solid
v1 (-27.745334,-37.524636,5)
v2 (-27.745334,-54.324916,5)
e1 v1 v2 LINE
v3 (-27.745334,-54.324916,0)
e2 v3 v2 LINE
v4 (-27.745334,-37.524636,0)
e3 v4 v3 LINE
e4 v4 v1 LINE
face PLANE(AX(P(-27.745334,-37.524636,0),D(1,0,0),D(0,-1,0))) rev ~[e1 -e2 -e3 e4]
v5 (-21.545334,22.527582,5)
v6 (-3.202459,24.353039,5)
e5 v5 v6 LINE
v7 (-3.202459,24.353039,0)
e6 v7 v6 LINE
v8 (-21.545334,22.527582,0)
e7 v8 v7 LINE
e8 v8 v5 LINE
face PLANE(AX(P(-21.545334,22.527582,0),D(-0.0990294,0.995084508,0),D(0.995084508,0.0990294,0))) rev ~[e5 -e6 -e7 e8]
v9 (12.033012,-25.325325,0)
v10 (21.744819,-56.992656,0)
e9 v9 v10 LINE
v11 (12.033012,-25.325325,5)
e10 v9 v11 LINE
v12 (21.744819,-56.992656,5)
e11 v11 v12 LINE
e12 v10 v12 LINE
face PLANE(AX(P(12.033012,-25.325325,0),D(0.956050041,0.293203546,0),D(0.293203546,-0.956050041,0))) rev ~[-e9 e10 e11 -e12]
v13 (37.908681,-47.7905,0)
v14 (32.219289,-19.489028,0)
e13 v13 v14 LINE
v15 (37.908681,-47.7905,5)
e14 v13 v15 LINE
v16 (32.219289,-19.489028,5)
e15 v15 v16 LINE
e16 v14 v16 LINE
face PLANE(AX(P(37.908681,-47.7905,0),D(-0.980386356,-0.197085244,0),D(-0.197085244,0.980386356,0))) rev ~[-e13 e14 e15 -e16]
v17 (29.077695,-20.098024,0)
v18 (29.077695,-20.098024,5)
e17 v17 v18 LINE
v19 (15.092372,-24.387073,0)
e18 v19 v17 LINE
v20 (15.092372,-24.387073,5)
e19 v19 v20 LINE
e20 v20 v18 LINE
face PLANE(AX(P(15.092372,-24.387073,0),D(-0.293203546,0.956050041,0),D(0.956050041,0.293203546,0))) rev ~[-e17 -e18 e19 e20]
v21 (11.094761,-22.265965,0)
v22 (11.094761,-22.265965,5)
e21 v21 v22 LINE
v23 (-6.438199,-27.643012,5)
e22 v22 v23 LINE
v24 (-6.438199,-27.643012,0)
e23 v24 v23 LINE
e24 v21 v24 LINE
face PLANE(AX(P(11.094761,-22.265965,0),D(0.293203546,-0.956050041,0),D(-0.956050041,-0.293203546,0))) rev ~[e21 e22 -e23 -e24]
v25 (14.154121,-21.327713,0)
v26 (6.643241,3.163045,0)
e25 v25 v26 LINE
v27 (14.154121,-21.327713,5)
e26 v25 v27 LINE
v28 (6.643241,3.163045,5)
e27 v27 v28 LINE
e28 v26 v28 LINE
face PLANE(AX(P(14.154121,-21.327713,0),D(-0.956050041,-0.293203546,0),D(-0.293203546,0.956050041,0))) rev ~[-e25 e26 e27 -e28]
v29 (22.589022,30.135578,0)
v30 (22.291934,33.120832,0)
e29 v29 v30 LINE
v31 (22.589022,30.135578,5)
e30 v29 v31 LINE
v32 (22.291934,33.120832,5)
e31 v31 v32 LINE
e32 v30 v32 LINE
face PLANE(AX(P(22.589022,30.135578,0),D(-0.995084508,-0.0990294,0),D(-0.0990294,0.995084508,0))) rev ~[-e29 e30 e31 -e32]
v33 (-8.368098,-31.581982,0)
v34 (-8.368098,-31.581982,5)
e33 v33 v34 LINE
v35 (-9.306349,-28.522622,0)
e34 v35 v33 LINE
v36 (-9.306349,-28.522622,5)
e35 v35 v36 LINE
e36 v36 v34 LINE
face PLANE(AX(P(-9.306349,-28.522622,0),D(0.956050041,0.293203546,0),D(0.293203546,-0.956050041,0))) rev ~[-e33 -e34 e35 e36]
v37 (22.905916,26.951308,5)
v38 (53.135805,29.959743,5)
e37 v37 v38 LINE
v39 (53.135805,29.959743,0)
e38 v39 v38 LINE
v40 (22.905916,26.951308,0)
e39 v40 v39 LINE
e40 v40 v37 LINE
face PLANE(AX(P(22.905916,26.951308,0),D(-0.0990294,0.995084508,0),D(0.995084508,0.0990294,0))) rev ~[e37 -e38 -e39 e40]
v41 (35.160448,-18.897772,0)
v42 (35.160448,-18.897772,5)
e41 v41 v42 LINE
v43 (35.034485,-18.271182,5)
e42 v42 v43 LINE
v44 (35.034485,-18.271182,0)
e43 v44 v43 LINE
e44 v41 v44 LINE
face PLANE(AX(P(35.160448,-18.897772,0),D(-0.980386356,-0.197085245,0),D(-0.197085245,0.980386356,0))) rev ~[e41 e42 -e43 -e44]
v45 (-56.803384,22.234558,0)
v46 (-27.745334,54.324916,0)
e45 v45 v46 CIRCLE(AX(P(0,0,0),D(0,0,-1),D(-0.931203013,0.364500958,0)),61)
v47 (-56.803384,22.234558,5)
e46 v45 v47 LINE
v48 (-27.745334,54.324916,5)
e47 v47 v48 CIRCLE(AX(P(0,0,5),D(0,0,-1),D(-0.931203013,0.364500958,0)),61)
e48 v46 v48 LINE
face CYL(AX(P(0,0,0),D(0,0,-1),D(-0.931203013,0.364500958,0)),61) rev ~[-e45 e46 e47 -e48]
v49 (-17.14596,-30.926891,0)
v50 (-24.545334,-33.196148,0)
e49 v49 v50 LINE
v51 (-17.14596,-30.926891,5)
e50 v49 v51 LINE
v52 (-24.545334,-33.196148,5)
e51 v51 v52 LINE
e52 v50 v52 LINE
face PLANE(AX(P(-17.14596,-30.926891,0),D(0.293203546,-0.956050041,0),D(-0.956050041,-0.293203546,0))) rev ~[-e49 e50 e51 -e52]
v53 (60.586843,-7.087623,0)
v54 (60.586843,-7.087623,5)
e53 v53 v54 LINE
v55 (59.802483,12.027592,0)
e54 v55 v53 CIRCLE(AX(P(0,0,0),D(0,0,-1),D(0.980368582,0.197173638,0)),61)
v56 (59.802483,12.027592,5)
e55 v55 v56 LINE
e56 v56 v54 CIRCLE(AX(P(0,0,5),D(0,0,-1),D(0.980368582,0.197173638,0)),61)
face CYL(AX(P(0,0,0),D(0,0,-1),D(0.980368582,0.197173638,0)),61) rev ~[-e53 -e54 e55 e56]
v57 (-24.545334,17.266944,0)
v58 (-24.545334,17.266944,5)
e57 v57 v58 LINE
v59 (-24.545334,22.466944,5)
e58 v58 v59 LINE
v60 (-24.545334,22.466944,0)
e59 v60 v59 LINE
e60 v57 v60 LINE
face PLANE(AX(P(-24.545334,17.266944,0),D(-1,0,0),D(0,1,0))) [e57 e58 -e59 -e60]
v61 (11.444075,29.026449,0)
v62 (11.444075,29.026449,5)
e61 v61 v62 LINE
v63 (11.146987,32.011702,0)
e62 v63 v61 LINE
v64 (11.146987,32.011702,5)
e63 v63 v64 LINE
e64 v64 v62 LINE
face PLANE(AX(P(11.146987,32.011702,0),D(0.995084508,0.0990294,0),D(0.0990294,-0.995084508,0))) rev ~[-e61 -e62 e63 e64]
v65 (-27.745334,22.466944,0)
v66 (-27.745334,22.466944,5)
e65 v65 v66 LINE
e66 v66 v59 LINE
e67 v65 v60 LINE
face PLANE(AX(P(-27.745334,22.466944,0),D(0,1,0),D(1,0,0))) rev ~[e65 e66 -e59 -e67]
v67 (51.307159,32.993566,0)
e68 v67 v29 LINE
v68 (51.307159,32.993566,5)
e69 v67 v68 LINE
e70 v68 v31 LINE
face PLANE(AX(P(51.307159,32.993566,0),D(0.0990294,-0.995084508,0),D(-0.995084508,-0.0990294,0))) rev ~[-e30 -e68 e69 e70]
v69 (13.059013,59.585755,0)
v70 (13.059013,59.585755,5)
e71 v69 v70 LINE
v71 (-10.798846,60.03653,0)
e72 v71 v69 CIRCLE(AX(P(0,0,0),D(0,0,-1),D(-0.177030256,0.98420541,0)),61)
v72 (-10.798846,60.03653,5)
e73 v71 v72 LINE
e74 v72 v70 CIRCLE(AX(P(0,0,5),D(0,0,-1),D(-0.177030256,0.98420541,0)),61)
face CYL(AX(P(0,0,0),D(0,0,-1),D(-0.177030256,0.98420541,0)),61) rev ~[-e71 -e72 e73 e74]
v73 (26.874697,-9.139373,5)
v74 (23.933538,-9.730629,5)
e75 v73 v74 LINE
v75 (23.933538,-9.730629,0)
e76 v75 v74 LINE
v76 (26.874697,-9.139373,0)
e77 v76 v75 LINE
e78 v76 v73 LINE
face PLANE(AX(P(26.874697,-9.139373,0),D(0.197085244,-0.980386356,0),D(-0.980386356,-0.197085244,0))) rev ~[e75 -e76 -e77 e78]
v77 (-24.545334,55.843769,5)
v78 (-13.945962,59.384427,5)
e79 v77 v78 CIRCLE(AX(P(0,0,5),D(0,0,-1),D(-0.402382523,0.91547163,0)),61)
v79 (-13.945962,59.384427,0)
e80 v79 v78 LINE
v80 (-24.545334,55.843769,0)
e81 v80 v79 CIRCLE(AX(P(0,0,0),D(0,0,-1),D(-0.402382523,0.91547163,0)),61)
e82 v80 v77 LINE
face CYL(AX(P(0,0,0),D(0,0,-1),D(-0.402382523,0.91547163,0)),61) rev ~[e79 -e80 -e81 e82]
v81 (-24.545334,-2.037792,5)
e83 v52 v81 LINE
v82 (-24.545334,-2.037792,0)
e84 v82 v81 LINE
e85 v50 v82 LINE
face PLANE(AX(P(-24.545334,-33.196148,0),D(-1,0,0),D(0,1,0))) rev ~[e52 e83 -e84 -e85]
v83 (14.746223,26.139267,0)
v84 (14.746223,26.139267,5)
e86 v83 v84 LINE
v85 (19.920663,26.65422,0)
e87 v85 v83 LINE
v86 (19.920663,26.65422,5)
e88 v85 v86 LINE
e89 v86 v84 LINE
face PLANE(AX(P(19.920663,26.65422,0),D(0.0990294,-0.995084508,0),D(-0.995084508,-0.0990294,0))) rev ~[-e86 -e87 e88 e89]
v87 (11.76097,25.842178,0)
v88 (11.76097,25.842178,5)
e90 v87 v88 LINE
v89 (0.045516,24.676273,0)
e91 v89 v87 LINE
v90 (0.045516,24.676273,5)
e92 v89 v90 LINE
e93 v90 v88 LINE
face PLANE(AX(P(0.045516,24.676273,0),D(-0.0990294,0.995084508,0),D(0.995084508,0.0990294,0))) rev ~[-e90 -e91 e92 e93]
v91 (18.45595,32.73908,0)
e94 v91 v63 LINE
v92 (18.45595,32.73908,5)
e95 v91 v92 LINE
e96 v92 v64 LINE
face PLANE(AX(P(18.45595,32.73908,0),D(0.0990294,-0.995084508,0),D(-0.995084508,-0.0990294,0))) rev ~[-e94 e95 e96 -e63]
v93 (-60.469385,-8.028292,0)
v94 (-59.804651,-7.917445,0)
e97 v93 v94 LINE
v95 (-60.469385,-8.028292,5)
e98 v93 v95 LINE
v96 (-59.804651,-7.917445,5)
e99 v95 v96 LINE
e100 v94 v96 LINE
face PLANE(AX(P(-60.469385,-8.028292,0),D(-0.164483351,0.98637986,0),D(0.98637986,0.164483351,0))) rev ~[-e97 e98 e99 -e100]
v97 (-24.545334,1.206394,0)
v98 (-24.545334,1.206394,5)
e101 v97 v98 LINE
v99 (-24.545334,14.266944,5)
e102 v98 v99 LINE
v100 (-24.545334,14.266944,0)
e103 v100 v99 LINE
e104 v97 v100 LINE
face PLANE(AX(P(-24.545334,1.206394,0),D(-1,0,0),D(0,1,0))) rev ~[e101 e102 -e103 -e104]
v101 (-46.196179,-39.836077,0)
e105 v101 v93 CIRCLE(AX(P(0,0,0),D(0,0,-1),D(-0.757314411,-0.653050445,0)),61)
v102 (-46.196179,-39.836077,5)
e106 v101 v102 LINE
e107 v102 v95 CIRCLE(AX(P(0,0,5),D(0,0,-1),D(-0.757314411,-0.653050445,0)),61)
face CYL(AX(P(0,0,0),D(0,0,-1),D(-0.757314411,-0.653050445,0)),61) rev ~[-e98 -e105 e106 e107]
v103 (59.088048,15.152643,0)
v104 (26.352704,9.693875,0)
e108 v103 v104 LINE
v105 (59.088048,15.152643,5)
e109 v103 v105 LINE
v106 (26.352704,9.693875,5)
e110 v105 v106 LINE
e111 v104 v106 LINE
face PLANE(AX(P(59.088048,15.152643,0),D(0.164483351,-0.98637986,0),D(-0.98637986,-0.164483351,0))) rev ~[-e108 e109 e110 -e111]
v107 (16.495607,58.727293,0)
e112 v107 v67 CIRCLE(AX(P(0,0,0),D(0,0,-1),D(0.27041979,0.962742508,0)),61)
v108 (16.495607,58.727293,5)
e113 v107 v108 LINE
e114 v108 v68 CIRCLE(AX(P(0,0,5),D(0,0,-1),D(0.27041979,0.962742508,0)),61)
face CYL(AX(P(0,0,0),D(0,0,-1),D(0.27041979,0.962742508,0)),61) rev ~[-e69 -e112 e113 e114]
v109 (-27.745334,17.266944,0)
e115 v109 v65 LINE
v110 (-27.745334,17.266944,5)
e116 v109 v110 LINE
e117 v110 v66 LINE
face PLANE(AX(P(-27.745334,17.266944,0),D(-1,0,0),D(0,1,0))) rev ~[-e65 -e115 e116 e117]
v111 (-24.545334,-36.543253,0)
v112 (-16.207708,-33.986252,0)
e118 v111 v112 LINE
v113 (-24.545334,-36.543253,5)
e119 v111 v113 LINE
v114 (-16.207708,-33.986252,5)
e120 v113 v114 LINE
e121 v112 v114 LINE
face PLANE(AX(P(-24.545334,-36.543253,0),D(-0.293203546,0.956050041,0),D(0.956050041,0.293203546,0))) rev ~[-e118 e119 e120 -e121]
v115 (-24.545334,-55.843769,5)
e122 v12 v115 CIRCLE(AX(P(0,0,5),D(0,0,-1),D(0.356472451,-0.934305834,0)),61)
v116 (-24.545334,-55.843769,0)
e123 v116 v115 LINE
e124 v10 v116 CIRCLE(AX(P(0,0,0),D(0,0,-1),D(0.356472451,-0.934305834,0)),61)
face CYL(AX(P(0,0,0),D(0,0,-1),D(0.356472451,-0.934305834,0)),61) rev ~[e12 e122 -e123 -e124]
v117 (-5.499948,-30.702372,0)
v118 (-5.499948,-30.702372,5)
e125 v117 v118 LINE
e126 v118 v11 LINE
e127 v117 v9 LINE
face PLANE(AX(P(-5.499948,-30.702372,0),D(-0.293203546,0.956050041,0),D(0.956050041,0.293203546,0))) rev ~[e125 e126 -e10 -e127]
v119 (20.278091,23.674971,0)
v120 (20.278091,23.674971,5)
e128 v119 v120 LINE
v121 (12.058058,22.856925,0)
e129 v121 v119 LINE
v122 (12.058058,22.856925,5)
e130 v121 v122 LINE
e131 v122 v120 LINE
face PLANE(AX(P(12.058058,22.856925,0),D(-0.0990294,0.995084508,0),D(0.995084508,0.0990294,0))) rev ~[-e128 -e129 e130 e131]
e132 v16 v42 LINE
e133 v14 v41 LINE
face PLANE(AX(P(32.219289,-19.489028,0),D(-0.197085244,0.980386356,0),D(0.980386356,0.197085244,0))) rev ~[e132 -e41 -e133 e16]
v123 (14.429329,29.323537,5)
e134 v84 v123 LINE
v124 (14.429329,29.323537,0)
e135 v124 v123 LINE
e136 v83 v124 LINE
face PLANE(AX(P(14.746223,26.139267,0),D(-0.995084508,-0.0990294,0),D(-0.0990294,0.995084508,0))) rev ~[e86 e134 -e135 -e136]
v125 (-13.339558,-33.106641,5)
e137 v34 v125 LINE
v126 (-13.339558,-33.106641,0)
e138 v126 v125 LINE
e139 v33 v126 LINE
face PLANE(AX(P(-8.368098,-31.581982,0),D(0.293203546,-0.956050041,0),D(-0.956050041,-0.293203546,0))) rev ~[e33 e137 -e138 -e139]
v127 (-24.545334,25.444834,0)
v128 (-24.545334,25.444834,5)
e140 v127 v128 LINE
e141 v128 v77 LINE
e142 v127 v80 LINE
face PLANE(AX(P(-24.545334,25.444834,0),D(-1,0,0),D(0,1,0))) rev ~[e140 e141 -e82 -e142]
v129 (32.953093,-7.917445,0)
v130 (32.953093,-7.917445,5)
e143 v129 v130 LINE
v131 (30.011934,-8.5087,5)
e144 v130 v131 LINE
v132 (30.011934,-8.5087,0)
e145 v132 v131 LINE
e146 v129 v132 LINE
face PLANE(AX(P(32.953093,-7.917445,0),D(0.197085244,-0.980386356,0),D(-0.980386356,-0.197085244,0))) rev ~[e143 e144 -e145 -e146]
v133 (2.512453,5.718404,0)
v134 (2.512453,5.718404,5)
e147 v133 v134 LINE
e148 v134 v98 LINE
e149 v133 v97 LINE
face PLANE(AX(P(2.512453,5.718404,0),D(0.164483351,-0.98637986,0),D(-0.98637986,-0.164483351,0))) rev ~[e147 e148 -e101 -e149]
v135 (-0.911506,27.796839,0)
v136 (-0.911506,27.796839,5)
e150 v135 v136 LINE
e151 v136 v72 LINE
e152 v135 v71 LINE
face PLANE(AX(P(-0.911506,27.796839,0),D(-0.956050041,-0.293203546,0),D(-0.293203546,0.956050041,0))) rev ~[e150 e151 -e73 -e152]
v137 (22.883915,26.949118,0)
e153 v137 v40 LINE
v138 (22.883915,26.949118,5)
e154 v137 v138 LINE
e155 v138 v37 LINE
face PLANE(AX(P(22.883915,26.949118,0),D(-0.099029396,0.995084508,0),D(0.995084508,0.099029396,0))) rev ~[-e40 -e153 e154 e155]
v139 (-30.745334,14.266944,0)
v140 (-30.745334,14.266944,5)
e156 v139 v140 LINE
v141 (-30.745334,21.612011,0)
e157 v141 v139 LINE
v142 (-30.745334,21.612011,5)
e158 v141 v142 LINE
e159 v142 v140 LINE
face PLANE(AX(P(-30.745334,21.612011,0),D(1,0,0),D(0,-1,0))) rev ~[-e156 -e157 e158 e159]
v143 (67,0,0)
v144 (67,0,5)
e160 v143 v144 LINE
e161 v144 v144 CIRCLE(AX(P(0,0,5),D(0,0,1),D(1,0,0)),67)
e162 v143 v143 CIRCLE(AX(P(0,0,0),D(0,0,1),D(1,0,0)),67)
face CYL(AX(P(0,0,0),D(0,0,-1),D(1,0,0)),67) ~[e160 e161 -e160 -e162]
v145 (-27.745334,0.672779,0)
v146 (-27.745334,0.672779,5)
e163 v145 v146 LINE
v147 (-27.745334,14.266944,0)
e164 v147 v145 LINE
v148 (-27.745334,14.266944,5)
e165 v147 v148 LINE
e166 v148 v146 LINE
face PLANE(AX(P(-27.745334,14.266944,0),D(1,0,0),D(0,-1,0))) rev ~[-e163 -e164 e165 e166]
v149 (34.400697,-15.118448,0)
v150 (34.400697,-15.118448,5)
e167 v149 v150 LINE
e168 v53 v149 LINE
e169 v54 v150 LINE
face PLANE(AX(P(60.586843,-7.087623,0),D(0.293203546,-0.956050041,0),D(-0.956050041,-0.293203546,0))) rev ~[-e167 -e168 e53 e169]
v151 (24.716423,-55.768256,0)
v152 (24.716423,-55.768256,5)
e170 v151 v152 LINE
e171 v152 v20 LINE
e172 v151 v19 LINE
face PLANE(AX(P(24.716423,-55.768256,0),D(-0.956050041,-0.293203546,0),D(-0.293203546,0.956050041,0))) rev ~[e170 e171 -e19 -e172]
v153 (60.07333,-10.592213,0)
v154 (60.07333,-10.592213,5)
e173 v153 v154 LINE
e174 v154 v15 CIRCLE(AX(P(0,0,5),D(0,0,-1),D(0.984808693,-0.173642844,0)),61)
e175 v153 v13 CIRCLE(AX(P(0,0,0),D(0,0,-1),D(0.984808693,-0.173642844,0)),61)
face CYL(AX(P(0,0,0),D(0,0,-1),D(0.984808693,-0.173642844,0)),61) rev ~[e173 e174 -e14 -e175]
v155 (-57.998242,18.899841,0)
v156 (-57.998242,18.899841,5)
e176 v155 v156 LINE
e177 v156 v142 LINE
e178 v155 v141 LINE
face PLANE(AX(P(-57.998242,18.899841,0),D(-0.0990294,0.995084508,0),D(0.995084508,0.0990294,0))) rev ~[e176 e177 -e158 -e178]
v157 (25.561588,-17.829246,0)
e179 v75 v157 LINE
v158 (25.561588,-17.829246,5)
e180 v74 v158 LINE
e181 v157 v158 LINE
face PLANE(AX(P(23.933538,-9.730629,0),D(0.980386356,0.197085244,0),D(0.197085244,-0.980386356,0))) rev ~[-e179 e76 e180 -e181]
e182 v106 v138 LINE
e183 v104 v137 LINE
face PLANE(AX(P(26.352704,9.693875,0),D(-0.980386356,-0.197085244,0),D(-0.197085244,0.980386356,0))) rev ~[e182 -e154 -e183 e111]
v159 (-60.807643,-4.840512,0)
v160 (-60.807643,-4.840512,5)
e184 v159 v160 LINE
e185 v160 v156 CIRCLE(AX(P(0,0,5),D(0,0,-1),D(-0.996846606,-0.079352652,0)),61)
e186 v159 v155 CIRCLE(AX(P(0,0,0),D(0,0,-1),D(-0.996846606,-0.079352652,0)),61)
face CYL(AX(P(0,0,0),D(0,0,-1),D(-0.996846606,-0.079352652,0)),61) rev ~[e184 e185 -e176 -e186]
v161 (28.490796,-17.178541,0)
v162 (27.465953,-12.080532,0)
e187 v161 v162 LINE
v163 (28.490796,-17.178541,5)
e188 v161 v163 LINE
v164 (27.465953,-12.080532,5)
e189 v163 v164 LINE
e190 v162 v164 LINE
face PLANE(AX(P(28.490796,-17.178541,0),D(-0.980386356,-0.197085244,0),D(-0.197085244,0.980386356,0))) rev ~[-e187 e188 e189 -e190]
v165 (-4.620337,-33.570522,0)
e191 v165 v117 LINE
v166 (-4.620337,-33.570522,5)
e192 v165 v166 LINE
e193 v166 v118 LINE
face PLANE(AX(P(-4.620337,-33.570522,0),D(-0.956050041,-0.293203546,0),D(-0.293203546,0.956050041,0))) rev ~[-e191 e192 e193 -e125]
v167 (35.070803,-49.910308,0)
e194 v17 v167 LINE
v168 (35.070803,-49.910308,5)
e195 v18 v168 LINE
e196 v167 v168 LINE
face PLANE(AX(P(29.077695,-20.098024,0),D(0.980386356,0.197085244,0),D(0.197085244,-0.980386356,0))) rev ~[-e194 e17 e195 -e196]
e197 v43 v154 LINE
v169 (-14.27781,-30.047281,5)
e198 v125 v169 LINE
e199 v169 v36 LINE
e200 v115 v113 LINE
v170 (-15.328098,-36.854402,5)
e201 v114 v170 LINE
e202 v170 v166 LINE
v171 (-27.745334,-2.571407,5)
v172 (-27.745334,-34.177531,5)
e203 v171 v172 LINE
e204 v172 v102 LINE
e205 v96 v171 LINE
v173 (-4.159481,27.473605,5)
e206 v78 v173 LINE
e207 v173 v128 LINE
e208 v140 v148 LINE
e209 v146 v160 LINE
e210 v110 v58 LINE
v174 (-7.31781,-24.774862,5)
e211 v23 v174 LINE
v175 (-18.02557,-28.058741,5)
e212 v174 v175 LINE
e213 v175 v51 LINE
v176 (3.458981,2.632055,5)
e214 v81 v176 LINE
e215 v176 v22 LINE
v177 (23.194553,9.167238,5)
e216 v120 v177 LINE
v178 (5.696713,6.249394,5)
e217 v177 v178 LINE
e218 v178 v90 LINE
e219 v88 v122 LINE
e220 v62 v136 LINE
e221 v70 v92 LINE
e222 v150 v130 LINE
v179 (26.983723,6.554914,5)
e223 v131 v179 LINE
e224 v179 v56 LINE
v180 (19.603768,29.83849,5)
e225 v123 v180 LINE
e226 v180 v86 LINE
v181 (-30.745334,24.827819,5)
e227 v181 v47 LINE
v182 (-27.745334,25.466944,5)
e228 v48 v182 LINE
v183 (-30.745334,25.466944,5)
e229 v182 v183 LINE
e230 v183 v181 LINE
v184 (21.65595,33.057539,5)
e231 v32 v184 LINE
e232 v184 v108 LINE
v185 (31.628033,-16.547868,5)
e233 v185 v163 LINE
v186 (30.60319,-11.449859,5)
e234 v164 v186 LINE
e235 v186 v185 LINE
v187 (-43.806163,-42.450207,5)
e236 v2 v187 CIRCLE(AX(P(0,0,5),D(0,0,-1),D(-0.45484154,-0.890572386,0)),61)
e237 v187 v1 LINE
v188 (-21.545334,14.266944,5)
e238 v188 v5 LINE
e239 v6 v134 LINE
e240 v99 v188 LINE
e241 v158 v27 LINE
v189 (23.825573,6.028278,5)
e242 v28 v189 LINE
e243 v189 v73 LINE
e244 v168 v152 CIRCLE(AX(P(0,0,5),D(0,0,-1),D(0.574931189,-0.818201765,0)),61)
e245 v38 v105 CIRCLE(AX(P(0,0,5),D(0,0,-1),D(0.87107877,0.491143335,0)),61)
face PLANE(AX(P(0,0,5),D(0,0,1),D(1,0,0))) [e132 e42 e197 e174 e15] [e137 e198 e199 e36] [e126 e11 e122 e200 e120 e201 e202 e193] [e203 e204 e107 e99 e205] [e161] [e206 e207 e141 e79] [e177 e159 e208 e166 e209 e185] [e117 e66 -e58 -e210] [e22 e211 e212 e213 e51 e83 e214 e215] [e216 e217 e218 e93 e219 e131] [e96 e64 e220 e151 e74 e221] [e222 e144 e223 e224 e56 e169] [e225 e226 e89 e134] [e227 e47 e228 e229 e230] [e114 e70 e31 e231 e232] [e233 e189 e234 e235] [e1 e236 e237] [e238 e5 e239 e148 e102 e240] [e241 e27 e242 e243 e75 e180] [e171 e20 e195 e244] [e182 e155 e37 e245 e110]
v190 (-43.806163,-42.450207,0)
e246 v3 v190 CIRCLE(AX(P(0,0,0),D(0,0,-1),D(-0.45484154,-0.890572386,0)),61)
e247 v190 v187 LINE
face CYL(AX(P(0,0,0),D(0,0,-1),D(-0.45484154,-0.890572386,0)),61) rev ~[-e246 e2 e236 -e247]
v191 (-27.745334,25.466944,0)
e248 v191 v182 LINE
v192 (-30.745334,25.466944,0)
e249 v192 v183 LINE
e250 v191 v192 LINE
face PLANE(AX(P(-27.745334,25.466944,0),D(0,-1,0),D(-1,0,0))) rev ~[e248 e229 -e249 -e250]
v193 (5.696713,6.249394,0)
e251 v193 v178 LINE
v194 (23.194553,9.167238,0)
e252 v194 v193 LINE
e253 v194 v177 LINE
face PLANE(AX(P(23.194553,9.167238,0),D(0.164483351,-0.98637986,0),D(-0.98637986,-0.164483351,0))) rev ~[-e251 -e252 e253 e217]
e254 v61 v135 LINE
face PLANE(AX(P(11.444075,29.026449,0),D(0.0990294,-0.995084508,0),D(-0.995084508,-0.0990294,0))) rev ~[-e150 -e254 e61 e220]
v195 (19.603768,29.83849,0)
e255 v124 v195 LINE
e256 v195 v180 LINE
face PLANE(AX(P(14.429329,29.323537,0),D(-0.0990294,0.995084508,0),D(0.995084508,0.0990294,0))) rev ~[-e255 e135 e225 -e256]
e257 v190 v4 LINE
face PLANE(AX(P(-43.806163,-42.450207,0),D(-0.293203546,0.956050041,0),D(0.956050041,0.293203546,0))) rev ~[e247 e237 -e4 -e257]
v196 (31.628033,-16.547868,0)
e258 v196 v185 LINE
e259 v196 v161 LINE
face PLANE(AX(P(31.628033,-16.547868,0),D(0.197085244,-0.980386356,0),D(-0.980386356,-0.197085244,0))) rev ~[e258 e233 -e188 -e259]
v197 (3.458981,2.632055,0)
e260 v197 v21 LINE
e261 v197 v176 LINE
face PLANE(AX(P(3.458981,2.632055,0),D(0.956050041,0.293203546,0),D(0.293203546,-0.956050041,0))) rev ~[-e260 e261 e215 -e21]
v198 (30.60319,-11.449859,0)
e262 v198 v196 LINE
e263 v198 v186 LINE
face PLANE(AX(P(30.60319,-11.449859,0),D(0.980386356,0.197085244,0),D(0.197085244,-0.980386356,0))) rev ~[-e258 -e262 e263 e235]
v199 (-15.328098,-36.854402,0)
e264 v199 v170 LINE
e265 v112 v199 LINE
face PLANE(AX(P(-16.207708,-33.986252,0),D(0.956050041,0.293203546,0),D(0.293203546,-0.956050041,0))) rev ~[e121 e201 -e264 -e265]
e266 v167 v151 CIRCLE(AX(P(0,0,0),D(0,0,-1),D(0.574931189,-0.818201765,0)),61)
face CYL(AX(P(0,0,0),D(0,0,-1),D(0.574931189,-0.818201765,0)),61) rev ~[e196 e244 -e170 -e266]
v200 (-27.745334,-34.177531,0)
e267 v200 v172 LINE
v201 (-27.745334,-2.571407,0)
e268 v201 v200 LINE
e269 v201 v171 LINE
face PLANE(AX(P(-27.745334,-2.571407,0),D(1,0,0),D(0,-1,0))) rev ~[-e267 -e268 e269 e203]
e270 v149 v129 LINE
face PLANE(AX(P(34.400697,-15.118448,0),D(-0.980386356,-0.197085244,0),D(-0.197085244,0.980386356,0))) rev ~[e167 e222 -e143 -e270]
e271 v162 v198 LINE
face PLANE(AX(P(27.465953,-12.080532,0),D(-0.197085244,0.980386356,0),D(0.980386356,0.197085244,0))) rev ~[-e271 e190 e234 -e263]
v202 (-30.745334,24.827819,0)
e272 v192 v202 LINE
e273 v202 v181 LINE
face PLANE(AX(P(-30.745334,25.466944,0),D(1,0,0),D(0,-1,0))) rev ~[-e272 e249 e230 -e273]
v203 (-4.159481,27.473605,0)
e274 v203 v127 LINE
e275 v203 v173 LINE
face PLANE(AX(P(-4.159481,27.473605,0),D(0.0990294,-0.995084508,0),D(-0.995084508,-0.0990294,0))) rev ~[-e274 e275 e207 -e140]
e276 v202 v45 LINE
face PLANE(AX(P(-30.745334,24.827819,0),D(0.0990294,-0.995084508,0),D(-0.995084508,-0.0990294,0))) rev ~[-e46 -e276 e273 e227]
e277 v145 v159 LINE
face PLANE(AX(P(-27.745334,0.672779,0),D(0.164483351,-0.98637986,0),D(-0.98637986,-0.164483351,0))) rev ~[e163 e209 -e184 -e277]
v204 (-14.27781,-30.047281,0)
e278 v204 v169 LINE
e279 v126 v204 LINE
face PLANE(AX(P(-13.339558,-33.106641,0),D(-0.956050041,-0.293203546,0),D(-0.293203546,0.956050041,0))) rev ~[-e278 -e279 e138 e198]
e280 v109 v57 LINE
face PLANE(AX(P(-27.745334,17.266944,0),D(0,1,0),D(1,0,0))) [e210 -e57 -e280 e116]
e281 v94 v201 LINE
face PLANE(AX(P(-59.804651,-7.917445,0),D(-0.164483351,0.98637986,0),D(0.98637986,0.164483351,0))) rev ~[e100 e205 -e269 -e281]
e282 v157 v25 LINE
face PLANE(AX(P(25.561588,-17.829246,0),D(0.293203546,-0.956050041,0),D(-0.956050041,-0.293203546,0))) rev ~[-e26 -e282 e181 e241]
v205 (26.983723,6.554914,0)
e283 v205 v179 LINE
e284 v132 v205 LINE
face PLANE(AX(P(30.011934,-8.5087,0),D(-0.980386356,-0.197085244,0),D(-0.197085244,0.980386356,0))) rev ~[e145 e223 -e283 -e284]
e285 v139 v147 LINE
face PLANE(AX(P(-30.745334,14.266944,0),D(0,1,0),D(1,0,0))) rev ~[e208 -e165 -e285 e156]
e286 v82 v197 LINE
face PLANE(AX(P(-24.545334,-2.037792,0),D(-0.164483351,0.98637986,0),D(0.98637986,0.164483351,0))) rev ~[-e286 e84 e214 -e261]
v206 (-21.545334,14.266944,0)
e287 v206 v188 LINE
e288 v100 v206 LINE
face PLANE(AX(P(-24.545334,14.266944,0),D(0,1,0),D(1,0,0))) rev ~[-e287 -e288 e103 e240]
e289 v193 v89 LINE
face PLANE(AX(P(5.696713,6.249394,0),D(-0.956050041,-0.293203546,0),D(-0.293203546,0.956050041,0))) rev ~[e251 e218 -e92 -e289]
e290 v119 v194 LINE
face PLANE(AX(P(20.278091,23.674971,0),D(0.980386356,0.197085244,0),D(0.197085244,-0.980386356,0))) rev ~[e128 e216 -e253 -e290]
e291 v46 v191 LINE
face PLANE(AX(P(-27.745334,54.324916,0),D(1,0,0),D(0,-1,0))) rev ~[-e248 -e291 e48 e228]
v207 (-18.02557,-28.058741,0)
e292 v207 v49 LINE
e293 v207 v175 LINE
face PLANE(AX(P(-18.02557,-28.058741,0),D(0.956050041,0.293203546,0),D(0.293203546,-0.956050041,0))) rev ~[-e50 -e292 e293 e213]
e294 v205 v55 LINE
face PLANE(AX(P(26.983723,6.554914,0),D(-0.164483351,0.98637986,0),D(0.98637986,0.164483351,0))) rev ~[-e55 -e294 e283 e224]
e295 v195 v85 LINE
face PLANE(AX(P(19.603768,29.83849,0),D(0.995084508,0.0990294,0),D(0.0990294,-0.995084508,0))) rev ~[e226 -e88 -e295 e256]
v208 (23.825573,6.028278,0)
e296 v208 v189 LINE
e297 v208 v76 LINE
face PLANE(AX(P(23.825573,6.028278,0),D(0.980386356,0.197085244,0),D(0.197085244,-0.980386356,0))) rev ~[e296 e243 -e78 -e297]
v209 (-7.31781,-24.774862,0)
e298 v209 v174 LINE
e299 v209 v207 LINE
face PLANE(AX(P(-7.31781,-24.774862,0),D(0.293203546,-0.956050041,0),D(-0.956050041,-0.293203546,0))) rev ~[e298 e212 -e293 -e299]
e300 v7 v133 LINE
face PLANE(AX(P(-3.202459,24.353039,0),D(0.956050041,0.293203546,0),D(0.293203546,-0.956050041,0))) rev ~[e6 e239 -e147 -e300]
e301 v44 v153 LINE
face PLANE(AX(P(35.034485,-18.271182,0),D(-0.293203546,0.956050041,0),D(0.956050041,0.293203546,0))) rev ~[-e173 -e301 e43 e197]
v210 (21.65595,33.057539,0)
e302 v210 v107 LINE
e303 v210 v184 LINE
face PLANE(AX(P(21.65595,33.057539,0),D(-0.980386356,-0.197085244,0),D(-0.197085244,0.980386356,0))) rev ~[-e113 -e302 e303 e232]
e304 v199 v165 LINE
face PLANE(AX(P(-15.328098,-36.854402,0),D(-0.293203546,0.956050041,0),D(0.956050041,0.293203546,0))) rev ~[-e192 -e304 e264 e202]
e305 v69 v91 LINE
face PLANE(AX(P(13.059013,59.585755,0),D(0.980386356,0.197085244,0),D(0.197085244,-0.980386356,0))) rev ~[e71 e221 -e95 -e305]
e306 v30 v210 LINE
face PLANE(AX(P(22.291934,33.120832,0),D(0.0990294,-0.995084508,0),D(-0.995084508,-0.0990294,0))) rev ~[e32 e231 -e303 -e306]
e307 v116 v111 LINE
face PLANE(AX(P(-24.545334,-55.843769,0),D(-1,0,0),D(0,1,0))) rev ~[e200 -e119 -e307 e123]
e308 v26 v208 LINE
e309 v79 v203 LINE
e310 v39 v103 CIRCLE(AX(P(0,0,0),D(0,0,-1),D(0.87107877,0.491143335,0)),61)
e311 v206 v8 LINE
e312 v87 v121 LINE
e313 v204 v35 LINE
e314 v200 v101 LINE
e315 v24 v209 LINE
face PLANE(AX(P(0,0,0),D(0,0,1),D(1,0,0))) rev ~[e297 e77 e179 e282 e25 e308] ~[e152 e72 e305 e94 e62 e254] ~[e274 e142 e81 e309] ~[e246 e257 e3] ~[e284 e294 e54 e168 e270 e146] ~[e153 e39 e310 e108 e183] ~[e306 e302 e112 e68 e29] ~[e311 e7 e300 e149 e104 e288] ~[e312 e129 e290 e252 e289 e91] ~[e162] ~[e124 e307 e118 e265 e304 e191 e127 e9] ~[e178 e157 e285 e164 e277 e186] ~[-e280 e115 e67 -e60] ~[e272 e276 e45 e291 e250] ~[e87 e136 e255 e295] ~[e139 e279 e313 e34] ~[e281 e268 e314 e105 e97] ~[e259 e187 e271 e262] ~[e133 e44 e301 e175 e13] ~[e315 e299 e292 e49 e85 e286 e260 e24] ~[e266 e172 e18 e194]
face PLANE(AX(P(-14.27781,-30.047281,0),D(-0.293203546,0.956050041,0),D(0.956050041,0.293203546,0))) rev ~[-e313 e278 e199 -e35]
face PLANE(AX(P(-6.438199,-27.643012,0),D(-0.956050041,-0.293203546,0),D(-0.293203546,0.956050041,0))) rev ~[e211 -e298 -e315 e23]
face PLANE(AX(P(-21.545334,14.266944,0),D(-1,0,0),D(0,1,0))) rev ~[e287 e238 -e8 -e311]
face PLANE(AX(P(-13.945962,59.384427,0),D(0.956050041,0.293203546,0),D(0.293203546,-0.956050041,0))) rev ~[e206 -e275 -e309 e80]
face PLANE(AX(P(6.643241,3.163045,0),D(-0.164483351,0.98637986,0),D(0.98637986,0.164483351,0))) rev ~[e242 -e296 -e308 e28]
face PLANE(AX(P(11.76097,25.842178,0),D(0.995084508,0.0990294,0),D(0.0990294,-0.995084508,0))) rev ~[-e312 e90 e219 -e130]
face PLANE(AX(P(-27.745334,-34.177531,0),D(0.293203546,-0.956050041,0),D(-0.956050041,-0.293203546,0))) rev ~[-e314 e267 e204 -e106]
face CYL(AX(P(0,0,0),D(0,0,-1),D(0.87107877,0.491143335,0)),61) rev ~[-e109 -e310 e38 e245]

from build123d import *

# Parameters (mm, degrees)
F0_R     = 67
F0_W     = 3.2
F0_H     = 5.2
F1_DEPTH = 5


with BuildPart() as f1:
    # F0 (on Top) → F1 (new body)
    with BuildSketch(Plane.XY):
        Circle(F0_R)
        with BuildLine():
            Line((-43.8061632072, -42.4502068907), (-27.7453339126, -37.5246361488))
            Line((-27.7453339126, -37.5246361488), (-27.7453339126, -54.3249155184))
            ThreePointArc((-27.7453339126, -54.3249155184), (-36.2650846031, -49.0493999834), (-43.8061632072, -42.4502068907))
        make_face(mode=Mode.SUBTRACT)
        with BuildLine():
            Line((-24.5453339126, -36.543253053), (-16.2077082994, -33.9862515417))
            Line((-16.2077082994, -33.9862515417), (-15.32809766, -36.8544016639))
            Line((-15.32809766, -36.8544016639), (-4.620337204, -33.5705219434))
            Line((-4.620337204, -33.5705219434), (-5.4999478434, -30.7023718213))
            Line((-5.4999478434, -30.7023718213), (12.0330121636, -25.3253247681))
            Line((12.0330121636, -25.3253247681), (21.7448194921, -56.9926558888))
            ThreePointArc((21.7448194921, -56.9926558888), (-1.5135076095, -60.9812208365), (-24.5453339126, -55.8437694208))
            Line((-24.5453339126, -55.8437694208), (-24.5453339126, -36.543253053))
        make_face(mode=Mode.SUBTRACT)
        with BuildLine():
            Line((-27.7453339126, -2.5714068584), (-27.7453339126, -34.1775310144))
            Line((-27.7453339126, -34.1775310144), (-46.1961790611, -39.8360771181))
            ThreePointArc((-46.1961790611, -39.8360771181), (-55.6535662863, -24.9735972503), (-60.469385046, -8.0282919824))
            Line((-60.469385046, -8.0282919824), (-59.8046514096, -7.9174446097))
            Line((-59.8046514096, -7.9174446097), (-27.7453339126, -2.5714068584))
        make_face(mode=Mode.SUBTRACT)
        Polygon((-13.3395581772, -33.1066409023), (-14.2778095259, -30.0472807721), (-9.3063493142, -28.5226223304), (-8.3680979656, -31.5819824607), align=None, mode=Mode.SUBTRACT)
        Polygon((-18.0255702875, -28.0587412893), (-17.1459596481, -30.9268914115), (-24.5453339126, -33.1961479186), (-24.5453339126, -2.0377922297), (3.4589808569, 2.6320552794), (11.0947608149, -22.2659646378), (-6.4381991921, -27.643011691), (-7.3178098315, -24.7748615689), align=None, mode=Mode.SUBTRACT)
        with BuildLine():
            Line((15.0923722939, -24.3870734194), (29.0776945802, -20.098023769))
            Line((29.0776945802, -20.098023769), (35.0708025243, -49.9103076559))
            ThreePointArc((35.0708025243, -49.9103076559), (30.0367604433, -53.0923066185), (24.7164230966, -55.7682564665))
            Line((24.7164230966, -55.7682564665), (15.0923722939, -24.3870734194))
        make_face(mode=Mode.SUBTRACT)
        with BuildLine():
            Line((37.9086808974, -47.790500234), (32.2192885129, -19.4890275267))
            Line((32.2192885129, -19.4890275267), (35.16044758, -18.8977717934))
            Line((35.16044758, -18.8977717934), (35.0344853908, -18.2711819544))
            Line((35.0344853908, -18.2711819544), (60.0733303031, -10.5922134746))
            ThreePointArc((60.0733303031, -10.5922134746), (52.402736228, -31.2242411568), (37.9086808974, -47.790500234))
        make_face(mode=Mode.SUBTRACT)
        Polygon((31.6280327797, -16.5478684596), (28.4907964414, -17.1785412418), (27.4659531704, -12.0805321921), (30.6031895087, -11.44985941), align=None, mode=Mode.SUBTRACT)
        Polygon((23.8255728418, 6.0282775984), (26.8746974372, -9.1393731251), (23.9335383701, -9.7306288583), (25.5615882832, -17.8292459105), (14.1541209452, -21.3277132891), (6.6432408292, 3.1630451865), align=None, mode=Mode.SUBTRACT)
        with BuildLine():
            Line((60.5868434596, -7.0876229867), (34.400697228, -15.1184483792))
            Line((34.400697228, -15.1184483792), (32.9530928425, -7.9174446097))
            Line((32.9530928425, -7.9174446097), (30.0119337754, -8.5087003429))
            Line((30.0119337754, -8.5087003429), (26.9837234891, 6.5549136562))
            Line((26.9837234891, 6.5549136562), (59.802483499, 12.0275919182))
            ThreePointArc((59.802483499, 12.0275919182), (60.9487109921, 2.5009255083), (60.5868434596, -7.0876229867))
        make_face(mode=Mode.SUBTRACT)
        with BuildLine():
            Line((-30.7453339126, 14.2669440508), (-27.7453339126, 14.2669440508))
            Line((-27.7453339126, 14.2669440508), (-27.7453339126, 0.6727794143))
            Line((-27.7453339126, 0.6727794143), (-60.8076429886, -4.8405117679))
            ThreePointArc((-60.8076429886, -4.8405117679), (-60.5773112158, 7.1686376578), (-57.9982415713, 18.899840598))
            Line((-57.9982415713, 18.899840598), (-30.7453339126, 21.6120113579))
            Line((-30.7453339126, 21.6120113579), (-30.7453339126, 14.2669440508))
        make_face(mode=Mode.SUBTRACT)
        Polygon((-24.5453339126, 1.206394043), (-24.5453339126, 14.2669440508), (-21.5453339126, 14.2669440508), (-21.5453339126, 22.5275823238), (-3.2024586813, 24.3530392797), (2.5124526937, 5.7184036538), align=None, mode=Mode.SUBTRACT)
        Polygon((0.0455163714, 24.6762731554), (11.7609695409, 25.842178457), (12.0580577422, 22.8569249334), (20.278090913, 23.6749709889), (23.1945533758, 9.1672384904), (5.6967126659, 6.249393561), align=None, mode=Mode.SUBTRACT)
        with Locations((-26.1453339126, 19.8669440508)):
            Rectangle(F0_W, F0_H, mode=Mode.SUBTRACT)
        with BuildLine():
            Line((-27.7453339126, 54.3249155184), (-27.7453339126, 25.4669440508))
            Line((-27.7453339126, 25.4669440508), (-30.7453339126, 25.4669440508))
            Line((-30.7453339126, 25.4669440508), (-30.7453339126, 24.8278186332))
            Line((-30.7453339126, 24.8278186332), (-56.8033838043, 22.2345584255))
            ThreePointArc((-56.8033838043, 22.2345584255), (-45.2169124497, 40.9442404804), (-27.7453339126, 54.3249155184))
        make_face(mode=Mode.SUBTRACT)
        with BuildLine():
            Line((-4.1594807198, 27.4736050776), (-24.5453339126, 25.4448338493))
            Line((-24.5453339126, 25.4448338493), (-24.5453339126, 55.8437694208))
            ThreePointArc((-24.5453339126, 55.8437694208), (-19.3268992288, 57.8573328646), (-13.9459622608, 59.384426718))
            Line((-13.9459622608, 59.384426718), (-4.1594807198, 27.4736050776))
        make_face(mode=Mode.SUBTRACT)
        with BuildLine():
            Line((11.1469872581, 32.011702406), (11.4440754595, 29.0264488823))
            Line((11.4440754595, 29.0264488823), (-0.9115056672, 27.7968389533))
            Line((-0.9115056672, 27.7968389533), (-10.7988456048, 60.036529993))
            ThreePointArc((-10.7988456048, 60.036529993), (1.1523404732, 60.9891146963), (13.0590128663, 59.5857548661))
            Line((13.0590128663, 59.5857548661), (18.4559499448, 32.7390800176))
            Line((18.4559499448, 32.7390800176), (11.1469872581, 32.011702406))
        make_face(mode=Mode.SUBTRACT)
        Polygon((19.6037684242, 29.838489966), (19.9206625056, 26.6542195407), (14.7462230646, 26.1392666584), (14.4293289831, 29.3235370836), align=None, mode=Mode.SUBTRACT)
        with BuildLine():
            Line((22.8839145104, 26.9491181821), (22.9059160293, 26.951307742))
            Line((22.9059160293, 26.951307742), (53.1358049871, 29.9597434631))
            ThreePointArc((53.1358049871, 29.9597434631), (56.5982407155, 22.7516845071), (59.0880479964, 15.1526428049))
            Line((59.0880479964, 15.1526428049), (26.3527040231, 9.6938745483))
            Line((26.3527040231, 9.6938745483), (22.8839145104, 26.9491181821))
        make_face(mode=Mode.SUBTRACT)
        with BuildLine():
            ThreePointArc((16.4956071696, 58.7272930085), (36.2609976032, 49.0524214776), (51.3071590572, 32.9935664862))
            Line((51.3071590572, 32.9935664862), (22.5890219478, 30.1355781673))
            Line((22.5890219478, 30.1355781673), (22.2919337465, 33.120831691))
            Line((22.2919337465, 33.120831691), (21.6559499448, 33.0575394841))
            Line((21.6559499448, 33.0575394841), (16.4956071696, 58.7272930085))
        make_face(mode=Mode.SUBTRACT)
    extrude(amount=F1_DEPTH)


solid = f1.part
